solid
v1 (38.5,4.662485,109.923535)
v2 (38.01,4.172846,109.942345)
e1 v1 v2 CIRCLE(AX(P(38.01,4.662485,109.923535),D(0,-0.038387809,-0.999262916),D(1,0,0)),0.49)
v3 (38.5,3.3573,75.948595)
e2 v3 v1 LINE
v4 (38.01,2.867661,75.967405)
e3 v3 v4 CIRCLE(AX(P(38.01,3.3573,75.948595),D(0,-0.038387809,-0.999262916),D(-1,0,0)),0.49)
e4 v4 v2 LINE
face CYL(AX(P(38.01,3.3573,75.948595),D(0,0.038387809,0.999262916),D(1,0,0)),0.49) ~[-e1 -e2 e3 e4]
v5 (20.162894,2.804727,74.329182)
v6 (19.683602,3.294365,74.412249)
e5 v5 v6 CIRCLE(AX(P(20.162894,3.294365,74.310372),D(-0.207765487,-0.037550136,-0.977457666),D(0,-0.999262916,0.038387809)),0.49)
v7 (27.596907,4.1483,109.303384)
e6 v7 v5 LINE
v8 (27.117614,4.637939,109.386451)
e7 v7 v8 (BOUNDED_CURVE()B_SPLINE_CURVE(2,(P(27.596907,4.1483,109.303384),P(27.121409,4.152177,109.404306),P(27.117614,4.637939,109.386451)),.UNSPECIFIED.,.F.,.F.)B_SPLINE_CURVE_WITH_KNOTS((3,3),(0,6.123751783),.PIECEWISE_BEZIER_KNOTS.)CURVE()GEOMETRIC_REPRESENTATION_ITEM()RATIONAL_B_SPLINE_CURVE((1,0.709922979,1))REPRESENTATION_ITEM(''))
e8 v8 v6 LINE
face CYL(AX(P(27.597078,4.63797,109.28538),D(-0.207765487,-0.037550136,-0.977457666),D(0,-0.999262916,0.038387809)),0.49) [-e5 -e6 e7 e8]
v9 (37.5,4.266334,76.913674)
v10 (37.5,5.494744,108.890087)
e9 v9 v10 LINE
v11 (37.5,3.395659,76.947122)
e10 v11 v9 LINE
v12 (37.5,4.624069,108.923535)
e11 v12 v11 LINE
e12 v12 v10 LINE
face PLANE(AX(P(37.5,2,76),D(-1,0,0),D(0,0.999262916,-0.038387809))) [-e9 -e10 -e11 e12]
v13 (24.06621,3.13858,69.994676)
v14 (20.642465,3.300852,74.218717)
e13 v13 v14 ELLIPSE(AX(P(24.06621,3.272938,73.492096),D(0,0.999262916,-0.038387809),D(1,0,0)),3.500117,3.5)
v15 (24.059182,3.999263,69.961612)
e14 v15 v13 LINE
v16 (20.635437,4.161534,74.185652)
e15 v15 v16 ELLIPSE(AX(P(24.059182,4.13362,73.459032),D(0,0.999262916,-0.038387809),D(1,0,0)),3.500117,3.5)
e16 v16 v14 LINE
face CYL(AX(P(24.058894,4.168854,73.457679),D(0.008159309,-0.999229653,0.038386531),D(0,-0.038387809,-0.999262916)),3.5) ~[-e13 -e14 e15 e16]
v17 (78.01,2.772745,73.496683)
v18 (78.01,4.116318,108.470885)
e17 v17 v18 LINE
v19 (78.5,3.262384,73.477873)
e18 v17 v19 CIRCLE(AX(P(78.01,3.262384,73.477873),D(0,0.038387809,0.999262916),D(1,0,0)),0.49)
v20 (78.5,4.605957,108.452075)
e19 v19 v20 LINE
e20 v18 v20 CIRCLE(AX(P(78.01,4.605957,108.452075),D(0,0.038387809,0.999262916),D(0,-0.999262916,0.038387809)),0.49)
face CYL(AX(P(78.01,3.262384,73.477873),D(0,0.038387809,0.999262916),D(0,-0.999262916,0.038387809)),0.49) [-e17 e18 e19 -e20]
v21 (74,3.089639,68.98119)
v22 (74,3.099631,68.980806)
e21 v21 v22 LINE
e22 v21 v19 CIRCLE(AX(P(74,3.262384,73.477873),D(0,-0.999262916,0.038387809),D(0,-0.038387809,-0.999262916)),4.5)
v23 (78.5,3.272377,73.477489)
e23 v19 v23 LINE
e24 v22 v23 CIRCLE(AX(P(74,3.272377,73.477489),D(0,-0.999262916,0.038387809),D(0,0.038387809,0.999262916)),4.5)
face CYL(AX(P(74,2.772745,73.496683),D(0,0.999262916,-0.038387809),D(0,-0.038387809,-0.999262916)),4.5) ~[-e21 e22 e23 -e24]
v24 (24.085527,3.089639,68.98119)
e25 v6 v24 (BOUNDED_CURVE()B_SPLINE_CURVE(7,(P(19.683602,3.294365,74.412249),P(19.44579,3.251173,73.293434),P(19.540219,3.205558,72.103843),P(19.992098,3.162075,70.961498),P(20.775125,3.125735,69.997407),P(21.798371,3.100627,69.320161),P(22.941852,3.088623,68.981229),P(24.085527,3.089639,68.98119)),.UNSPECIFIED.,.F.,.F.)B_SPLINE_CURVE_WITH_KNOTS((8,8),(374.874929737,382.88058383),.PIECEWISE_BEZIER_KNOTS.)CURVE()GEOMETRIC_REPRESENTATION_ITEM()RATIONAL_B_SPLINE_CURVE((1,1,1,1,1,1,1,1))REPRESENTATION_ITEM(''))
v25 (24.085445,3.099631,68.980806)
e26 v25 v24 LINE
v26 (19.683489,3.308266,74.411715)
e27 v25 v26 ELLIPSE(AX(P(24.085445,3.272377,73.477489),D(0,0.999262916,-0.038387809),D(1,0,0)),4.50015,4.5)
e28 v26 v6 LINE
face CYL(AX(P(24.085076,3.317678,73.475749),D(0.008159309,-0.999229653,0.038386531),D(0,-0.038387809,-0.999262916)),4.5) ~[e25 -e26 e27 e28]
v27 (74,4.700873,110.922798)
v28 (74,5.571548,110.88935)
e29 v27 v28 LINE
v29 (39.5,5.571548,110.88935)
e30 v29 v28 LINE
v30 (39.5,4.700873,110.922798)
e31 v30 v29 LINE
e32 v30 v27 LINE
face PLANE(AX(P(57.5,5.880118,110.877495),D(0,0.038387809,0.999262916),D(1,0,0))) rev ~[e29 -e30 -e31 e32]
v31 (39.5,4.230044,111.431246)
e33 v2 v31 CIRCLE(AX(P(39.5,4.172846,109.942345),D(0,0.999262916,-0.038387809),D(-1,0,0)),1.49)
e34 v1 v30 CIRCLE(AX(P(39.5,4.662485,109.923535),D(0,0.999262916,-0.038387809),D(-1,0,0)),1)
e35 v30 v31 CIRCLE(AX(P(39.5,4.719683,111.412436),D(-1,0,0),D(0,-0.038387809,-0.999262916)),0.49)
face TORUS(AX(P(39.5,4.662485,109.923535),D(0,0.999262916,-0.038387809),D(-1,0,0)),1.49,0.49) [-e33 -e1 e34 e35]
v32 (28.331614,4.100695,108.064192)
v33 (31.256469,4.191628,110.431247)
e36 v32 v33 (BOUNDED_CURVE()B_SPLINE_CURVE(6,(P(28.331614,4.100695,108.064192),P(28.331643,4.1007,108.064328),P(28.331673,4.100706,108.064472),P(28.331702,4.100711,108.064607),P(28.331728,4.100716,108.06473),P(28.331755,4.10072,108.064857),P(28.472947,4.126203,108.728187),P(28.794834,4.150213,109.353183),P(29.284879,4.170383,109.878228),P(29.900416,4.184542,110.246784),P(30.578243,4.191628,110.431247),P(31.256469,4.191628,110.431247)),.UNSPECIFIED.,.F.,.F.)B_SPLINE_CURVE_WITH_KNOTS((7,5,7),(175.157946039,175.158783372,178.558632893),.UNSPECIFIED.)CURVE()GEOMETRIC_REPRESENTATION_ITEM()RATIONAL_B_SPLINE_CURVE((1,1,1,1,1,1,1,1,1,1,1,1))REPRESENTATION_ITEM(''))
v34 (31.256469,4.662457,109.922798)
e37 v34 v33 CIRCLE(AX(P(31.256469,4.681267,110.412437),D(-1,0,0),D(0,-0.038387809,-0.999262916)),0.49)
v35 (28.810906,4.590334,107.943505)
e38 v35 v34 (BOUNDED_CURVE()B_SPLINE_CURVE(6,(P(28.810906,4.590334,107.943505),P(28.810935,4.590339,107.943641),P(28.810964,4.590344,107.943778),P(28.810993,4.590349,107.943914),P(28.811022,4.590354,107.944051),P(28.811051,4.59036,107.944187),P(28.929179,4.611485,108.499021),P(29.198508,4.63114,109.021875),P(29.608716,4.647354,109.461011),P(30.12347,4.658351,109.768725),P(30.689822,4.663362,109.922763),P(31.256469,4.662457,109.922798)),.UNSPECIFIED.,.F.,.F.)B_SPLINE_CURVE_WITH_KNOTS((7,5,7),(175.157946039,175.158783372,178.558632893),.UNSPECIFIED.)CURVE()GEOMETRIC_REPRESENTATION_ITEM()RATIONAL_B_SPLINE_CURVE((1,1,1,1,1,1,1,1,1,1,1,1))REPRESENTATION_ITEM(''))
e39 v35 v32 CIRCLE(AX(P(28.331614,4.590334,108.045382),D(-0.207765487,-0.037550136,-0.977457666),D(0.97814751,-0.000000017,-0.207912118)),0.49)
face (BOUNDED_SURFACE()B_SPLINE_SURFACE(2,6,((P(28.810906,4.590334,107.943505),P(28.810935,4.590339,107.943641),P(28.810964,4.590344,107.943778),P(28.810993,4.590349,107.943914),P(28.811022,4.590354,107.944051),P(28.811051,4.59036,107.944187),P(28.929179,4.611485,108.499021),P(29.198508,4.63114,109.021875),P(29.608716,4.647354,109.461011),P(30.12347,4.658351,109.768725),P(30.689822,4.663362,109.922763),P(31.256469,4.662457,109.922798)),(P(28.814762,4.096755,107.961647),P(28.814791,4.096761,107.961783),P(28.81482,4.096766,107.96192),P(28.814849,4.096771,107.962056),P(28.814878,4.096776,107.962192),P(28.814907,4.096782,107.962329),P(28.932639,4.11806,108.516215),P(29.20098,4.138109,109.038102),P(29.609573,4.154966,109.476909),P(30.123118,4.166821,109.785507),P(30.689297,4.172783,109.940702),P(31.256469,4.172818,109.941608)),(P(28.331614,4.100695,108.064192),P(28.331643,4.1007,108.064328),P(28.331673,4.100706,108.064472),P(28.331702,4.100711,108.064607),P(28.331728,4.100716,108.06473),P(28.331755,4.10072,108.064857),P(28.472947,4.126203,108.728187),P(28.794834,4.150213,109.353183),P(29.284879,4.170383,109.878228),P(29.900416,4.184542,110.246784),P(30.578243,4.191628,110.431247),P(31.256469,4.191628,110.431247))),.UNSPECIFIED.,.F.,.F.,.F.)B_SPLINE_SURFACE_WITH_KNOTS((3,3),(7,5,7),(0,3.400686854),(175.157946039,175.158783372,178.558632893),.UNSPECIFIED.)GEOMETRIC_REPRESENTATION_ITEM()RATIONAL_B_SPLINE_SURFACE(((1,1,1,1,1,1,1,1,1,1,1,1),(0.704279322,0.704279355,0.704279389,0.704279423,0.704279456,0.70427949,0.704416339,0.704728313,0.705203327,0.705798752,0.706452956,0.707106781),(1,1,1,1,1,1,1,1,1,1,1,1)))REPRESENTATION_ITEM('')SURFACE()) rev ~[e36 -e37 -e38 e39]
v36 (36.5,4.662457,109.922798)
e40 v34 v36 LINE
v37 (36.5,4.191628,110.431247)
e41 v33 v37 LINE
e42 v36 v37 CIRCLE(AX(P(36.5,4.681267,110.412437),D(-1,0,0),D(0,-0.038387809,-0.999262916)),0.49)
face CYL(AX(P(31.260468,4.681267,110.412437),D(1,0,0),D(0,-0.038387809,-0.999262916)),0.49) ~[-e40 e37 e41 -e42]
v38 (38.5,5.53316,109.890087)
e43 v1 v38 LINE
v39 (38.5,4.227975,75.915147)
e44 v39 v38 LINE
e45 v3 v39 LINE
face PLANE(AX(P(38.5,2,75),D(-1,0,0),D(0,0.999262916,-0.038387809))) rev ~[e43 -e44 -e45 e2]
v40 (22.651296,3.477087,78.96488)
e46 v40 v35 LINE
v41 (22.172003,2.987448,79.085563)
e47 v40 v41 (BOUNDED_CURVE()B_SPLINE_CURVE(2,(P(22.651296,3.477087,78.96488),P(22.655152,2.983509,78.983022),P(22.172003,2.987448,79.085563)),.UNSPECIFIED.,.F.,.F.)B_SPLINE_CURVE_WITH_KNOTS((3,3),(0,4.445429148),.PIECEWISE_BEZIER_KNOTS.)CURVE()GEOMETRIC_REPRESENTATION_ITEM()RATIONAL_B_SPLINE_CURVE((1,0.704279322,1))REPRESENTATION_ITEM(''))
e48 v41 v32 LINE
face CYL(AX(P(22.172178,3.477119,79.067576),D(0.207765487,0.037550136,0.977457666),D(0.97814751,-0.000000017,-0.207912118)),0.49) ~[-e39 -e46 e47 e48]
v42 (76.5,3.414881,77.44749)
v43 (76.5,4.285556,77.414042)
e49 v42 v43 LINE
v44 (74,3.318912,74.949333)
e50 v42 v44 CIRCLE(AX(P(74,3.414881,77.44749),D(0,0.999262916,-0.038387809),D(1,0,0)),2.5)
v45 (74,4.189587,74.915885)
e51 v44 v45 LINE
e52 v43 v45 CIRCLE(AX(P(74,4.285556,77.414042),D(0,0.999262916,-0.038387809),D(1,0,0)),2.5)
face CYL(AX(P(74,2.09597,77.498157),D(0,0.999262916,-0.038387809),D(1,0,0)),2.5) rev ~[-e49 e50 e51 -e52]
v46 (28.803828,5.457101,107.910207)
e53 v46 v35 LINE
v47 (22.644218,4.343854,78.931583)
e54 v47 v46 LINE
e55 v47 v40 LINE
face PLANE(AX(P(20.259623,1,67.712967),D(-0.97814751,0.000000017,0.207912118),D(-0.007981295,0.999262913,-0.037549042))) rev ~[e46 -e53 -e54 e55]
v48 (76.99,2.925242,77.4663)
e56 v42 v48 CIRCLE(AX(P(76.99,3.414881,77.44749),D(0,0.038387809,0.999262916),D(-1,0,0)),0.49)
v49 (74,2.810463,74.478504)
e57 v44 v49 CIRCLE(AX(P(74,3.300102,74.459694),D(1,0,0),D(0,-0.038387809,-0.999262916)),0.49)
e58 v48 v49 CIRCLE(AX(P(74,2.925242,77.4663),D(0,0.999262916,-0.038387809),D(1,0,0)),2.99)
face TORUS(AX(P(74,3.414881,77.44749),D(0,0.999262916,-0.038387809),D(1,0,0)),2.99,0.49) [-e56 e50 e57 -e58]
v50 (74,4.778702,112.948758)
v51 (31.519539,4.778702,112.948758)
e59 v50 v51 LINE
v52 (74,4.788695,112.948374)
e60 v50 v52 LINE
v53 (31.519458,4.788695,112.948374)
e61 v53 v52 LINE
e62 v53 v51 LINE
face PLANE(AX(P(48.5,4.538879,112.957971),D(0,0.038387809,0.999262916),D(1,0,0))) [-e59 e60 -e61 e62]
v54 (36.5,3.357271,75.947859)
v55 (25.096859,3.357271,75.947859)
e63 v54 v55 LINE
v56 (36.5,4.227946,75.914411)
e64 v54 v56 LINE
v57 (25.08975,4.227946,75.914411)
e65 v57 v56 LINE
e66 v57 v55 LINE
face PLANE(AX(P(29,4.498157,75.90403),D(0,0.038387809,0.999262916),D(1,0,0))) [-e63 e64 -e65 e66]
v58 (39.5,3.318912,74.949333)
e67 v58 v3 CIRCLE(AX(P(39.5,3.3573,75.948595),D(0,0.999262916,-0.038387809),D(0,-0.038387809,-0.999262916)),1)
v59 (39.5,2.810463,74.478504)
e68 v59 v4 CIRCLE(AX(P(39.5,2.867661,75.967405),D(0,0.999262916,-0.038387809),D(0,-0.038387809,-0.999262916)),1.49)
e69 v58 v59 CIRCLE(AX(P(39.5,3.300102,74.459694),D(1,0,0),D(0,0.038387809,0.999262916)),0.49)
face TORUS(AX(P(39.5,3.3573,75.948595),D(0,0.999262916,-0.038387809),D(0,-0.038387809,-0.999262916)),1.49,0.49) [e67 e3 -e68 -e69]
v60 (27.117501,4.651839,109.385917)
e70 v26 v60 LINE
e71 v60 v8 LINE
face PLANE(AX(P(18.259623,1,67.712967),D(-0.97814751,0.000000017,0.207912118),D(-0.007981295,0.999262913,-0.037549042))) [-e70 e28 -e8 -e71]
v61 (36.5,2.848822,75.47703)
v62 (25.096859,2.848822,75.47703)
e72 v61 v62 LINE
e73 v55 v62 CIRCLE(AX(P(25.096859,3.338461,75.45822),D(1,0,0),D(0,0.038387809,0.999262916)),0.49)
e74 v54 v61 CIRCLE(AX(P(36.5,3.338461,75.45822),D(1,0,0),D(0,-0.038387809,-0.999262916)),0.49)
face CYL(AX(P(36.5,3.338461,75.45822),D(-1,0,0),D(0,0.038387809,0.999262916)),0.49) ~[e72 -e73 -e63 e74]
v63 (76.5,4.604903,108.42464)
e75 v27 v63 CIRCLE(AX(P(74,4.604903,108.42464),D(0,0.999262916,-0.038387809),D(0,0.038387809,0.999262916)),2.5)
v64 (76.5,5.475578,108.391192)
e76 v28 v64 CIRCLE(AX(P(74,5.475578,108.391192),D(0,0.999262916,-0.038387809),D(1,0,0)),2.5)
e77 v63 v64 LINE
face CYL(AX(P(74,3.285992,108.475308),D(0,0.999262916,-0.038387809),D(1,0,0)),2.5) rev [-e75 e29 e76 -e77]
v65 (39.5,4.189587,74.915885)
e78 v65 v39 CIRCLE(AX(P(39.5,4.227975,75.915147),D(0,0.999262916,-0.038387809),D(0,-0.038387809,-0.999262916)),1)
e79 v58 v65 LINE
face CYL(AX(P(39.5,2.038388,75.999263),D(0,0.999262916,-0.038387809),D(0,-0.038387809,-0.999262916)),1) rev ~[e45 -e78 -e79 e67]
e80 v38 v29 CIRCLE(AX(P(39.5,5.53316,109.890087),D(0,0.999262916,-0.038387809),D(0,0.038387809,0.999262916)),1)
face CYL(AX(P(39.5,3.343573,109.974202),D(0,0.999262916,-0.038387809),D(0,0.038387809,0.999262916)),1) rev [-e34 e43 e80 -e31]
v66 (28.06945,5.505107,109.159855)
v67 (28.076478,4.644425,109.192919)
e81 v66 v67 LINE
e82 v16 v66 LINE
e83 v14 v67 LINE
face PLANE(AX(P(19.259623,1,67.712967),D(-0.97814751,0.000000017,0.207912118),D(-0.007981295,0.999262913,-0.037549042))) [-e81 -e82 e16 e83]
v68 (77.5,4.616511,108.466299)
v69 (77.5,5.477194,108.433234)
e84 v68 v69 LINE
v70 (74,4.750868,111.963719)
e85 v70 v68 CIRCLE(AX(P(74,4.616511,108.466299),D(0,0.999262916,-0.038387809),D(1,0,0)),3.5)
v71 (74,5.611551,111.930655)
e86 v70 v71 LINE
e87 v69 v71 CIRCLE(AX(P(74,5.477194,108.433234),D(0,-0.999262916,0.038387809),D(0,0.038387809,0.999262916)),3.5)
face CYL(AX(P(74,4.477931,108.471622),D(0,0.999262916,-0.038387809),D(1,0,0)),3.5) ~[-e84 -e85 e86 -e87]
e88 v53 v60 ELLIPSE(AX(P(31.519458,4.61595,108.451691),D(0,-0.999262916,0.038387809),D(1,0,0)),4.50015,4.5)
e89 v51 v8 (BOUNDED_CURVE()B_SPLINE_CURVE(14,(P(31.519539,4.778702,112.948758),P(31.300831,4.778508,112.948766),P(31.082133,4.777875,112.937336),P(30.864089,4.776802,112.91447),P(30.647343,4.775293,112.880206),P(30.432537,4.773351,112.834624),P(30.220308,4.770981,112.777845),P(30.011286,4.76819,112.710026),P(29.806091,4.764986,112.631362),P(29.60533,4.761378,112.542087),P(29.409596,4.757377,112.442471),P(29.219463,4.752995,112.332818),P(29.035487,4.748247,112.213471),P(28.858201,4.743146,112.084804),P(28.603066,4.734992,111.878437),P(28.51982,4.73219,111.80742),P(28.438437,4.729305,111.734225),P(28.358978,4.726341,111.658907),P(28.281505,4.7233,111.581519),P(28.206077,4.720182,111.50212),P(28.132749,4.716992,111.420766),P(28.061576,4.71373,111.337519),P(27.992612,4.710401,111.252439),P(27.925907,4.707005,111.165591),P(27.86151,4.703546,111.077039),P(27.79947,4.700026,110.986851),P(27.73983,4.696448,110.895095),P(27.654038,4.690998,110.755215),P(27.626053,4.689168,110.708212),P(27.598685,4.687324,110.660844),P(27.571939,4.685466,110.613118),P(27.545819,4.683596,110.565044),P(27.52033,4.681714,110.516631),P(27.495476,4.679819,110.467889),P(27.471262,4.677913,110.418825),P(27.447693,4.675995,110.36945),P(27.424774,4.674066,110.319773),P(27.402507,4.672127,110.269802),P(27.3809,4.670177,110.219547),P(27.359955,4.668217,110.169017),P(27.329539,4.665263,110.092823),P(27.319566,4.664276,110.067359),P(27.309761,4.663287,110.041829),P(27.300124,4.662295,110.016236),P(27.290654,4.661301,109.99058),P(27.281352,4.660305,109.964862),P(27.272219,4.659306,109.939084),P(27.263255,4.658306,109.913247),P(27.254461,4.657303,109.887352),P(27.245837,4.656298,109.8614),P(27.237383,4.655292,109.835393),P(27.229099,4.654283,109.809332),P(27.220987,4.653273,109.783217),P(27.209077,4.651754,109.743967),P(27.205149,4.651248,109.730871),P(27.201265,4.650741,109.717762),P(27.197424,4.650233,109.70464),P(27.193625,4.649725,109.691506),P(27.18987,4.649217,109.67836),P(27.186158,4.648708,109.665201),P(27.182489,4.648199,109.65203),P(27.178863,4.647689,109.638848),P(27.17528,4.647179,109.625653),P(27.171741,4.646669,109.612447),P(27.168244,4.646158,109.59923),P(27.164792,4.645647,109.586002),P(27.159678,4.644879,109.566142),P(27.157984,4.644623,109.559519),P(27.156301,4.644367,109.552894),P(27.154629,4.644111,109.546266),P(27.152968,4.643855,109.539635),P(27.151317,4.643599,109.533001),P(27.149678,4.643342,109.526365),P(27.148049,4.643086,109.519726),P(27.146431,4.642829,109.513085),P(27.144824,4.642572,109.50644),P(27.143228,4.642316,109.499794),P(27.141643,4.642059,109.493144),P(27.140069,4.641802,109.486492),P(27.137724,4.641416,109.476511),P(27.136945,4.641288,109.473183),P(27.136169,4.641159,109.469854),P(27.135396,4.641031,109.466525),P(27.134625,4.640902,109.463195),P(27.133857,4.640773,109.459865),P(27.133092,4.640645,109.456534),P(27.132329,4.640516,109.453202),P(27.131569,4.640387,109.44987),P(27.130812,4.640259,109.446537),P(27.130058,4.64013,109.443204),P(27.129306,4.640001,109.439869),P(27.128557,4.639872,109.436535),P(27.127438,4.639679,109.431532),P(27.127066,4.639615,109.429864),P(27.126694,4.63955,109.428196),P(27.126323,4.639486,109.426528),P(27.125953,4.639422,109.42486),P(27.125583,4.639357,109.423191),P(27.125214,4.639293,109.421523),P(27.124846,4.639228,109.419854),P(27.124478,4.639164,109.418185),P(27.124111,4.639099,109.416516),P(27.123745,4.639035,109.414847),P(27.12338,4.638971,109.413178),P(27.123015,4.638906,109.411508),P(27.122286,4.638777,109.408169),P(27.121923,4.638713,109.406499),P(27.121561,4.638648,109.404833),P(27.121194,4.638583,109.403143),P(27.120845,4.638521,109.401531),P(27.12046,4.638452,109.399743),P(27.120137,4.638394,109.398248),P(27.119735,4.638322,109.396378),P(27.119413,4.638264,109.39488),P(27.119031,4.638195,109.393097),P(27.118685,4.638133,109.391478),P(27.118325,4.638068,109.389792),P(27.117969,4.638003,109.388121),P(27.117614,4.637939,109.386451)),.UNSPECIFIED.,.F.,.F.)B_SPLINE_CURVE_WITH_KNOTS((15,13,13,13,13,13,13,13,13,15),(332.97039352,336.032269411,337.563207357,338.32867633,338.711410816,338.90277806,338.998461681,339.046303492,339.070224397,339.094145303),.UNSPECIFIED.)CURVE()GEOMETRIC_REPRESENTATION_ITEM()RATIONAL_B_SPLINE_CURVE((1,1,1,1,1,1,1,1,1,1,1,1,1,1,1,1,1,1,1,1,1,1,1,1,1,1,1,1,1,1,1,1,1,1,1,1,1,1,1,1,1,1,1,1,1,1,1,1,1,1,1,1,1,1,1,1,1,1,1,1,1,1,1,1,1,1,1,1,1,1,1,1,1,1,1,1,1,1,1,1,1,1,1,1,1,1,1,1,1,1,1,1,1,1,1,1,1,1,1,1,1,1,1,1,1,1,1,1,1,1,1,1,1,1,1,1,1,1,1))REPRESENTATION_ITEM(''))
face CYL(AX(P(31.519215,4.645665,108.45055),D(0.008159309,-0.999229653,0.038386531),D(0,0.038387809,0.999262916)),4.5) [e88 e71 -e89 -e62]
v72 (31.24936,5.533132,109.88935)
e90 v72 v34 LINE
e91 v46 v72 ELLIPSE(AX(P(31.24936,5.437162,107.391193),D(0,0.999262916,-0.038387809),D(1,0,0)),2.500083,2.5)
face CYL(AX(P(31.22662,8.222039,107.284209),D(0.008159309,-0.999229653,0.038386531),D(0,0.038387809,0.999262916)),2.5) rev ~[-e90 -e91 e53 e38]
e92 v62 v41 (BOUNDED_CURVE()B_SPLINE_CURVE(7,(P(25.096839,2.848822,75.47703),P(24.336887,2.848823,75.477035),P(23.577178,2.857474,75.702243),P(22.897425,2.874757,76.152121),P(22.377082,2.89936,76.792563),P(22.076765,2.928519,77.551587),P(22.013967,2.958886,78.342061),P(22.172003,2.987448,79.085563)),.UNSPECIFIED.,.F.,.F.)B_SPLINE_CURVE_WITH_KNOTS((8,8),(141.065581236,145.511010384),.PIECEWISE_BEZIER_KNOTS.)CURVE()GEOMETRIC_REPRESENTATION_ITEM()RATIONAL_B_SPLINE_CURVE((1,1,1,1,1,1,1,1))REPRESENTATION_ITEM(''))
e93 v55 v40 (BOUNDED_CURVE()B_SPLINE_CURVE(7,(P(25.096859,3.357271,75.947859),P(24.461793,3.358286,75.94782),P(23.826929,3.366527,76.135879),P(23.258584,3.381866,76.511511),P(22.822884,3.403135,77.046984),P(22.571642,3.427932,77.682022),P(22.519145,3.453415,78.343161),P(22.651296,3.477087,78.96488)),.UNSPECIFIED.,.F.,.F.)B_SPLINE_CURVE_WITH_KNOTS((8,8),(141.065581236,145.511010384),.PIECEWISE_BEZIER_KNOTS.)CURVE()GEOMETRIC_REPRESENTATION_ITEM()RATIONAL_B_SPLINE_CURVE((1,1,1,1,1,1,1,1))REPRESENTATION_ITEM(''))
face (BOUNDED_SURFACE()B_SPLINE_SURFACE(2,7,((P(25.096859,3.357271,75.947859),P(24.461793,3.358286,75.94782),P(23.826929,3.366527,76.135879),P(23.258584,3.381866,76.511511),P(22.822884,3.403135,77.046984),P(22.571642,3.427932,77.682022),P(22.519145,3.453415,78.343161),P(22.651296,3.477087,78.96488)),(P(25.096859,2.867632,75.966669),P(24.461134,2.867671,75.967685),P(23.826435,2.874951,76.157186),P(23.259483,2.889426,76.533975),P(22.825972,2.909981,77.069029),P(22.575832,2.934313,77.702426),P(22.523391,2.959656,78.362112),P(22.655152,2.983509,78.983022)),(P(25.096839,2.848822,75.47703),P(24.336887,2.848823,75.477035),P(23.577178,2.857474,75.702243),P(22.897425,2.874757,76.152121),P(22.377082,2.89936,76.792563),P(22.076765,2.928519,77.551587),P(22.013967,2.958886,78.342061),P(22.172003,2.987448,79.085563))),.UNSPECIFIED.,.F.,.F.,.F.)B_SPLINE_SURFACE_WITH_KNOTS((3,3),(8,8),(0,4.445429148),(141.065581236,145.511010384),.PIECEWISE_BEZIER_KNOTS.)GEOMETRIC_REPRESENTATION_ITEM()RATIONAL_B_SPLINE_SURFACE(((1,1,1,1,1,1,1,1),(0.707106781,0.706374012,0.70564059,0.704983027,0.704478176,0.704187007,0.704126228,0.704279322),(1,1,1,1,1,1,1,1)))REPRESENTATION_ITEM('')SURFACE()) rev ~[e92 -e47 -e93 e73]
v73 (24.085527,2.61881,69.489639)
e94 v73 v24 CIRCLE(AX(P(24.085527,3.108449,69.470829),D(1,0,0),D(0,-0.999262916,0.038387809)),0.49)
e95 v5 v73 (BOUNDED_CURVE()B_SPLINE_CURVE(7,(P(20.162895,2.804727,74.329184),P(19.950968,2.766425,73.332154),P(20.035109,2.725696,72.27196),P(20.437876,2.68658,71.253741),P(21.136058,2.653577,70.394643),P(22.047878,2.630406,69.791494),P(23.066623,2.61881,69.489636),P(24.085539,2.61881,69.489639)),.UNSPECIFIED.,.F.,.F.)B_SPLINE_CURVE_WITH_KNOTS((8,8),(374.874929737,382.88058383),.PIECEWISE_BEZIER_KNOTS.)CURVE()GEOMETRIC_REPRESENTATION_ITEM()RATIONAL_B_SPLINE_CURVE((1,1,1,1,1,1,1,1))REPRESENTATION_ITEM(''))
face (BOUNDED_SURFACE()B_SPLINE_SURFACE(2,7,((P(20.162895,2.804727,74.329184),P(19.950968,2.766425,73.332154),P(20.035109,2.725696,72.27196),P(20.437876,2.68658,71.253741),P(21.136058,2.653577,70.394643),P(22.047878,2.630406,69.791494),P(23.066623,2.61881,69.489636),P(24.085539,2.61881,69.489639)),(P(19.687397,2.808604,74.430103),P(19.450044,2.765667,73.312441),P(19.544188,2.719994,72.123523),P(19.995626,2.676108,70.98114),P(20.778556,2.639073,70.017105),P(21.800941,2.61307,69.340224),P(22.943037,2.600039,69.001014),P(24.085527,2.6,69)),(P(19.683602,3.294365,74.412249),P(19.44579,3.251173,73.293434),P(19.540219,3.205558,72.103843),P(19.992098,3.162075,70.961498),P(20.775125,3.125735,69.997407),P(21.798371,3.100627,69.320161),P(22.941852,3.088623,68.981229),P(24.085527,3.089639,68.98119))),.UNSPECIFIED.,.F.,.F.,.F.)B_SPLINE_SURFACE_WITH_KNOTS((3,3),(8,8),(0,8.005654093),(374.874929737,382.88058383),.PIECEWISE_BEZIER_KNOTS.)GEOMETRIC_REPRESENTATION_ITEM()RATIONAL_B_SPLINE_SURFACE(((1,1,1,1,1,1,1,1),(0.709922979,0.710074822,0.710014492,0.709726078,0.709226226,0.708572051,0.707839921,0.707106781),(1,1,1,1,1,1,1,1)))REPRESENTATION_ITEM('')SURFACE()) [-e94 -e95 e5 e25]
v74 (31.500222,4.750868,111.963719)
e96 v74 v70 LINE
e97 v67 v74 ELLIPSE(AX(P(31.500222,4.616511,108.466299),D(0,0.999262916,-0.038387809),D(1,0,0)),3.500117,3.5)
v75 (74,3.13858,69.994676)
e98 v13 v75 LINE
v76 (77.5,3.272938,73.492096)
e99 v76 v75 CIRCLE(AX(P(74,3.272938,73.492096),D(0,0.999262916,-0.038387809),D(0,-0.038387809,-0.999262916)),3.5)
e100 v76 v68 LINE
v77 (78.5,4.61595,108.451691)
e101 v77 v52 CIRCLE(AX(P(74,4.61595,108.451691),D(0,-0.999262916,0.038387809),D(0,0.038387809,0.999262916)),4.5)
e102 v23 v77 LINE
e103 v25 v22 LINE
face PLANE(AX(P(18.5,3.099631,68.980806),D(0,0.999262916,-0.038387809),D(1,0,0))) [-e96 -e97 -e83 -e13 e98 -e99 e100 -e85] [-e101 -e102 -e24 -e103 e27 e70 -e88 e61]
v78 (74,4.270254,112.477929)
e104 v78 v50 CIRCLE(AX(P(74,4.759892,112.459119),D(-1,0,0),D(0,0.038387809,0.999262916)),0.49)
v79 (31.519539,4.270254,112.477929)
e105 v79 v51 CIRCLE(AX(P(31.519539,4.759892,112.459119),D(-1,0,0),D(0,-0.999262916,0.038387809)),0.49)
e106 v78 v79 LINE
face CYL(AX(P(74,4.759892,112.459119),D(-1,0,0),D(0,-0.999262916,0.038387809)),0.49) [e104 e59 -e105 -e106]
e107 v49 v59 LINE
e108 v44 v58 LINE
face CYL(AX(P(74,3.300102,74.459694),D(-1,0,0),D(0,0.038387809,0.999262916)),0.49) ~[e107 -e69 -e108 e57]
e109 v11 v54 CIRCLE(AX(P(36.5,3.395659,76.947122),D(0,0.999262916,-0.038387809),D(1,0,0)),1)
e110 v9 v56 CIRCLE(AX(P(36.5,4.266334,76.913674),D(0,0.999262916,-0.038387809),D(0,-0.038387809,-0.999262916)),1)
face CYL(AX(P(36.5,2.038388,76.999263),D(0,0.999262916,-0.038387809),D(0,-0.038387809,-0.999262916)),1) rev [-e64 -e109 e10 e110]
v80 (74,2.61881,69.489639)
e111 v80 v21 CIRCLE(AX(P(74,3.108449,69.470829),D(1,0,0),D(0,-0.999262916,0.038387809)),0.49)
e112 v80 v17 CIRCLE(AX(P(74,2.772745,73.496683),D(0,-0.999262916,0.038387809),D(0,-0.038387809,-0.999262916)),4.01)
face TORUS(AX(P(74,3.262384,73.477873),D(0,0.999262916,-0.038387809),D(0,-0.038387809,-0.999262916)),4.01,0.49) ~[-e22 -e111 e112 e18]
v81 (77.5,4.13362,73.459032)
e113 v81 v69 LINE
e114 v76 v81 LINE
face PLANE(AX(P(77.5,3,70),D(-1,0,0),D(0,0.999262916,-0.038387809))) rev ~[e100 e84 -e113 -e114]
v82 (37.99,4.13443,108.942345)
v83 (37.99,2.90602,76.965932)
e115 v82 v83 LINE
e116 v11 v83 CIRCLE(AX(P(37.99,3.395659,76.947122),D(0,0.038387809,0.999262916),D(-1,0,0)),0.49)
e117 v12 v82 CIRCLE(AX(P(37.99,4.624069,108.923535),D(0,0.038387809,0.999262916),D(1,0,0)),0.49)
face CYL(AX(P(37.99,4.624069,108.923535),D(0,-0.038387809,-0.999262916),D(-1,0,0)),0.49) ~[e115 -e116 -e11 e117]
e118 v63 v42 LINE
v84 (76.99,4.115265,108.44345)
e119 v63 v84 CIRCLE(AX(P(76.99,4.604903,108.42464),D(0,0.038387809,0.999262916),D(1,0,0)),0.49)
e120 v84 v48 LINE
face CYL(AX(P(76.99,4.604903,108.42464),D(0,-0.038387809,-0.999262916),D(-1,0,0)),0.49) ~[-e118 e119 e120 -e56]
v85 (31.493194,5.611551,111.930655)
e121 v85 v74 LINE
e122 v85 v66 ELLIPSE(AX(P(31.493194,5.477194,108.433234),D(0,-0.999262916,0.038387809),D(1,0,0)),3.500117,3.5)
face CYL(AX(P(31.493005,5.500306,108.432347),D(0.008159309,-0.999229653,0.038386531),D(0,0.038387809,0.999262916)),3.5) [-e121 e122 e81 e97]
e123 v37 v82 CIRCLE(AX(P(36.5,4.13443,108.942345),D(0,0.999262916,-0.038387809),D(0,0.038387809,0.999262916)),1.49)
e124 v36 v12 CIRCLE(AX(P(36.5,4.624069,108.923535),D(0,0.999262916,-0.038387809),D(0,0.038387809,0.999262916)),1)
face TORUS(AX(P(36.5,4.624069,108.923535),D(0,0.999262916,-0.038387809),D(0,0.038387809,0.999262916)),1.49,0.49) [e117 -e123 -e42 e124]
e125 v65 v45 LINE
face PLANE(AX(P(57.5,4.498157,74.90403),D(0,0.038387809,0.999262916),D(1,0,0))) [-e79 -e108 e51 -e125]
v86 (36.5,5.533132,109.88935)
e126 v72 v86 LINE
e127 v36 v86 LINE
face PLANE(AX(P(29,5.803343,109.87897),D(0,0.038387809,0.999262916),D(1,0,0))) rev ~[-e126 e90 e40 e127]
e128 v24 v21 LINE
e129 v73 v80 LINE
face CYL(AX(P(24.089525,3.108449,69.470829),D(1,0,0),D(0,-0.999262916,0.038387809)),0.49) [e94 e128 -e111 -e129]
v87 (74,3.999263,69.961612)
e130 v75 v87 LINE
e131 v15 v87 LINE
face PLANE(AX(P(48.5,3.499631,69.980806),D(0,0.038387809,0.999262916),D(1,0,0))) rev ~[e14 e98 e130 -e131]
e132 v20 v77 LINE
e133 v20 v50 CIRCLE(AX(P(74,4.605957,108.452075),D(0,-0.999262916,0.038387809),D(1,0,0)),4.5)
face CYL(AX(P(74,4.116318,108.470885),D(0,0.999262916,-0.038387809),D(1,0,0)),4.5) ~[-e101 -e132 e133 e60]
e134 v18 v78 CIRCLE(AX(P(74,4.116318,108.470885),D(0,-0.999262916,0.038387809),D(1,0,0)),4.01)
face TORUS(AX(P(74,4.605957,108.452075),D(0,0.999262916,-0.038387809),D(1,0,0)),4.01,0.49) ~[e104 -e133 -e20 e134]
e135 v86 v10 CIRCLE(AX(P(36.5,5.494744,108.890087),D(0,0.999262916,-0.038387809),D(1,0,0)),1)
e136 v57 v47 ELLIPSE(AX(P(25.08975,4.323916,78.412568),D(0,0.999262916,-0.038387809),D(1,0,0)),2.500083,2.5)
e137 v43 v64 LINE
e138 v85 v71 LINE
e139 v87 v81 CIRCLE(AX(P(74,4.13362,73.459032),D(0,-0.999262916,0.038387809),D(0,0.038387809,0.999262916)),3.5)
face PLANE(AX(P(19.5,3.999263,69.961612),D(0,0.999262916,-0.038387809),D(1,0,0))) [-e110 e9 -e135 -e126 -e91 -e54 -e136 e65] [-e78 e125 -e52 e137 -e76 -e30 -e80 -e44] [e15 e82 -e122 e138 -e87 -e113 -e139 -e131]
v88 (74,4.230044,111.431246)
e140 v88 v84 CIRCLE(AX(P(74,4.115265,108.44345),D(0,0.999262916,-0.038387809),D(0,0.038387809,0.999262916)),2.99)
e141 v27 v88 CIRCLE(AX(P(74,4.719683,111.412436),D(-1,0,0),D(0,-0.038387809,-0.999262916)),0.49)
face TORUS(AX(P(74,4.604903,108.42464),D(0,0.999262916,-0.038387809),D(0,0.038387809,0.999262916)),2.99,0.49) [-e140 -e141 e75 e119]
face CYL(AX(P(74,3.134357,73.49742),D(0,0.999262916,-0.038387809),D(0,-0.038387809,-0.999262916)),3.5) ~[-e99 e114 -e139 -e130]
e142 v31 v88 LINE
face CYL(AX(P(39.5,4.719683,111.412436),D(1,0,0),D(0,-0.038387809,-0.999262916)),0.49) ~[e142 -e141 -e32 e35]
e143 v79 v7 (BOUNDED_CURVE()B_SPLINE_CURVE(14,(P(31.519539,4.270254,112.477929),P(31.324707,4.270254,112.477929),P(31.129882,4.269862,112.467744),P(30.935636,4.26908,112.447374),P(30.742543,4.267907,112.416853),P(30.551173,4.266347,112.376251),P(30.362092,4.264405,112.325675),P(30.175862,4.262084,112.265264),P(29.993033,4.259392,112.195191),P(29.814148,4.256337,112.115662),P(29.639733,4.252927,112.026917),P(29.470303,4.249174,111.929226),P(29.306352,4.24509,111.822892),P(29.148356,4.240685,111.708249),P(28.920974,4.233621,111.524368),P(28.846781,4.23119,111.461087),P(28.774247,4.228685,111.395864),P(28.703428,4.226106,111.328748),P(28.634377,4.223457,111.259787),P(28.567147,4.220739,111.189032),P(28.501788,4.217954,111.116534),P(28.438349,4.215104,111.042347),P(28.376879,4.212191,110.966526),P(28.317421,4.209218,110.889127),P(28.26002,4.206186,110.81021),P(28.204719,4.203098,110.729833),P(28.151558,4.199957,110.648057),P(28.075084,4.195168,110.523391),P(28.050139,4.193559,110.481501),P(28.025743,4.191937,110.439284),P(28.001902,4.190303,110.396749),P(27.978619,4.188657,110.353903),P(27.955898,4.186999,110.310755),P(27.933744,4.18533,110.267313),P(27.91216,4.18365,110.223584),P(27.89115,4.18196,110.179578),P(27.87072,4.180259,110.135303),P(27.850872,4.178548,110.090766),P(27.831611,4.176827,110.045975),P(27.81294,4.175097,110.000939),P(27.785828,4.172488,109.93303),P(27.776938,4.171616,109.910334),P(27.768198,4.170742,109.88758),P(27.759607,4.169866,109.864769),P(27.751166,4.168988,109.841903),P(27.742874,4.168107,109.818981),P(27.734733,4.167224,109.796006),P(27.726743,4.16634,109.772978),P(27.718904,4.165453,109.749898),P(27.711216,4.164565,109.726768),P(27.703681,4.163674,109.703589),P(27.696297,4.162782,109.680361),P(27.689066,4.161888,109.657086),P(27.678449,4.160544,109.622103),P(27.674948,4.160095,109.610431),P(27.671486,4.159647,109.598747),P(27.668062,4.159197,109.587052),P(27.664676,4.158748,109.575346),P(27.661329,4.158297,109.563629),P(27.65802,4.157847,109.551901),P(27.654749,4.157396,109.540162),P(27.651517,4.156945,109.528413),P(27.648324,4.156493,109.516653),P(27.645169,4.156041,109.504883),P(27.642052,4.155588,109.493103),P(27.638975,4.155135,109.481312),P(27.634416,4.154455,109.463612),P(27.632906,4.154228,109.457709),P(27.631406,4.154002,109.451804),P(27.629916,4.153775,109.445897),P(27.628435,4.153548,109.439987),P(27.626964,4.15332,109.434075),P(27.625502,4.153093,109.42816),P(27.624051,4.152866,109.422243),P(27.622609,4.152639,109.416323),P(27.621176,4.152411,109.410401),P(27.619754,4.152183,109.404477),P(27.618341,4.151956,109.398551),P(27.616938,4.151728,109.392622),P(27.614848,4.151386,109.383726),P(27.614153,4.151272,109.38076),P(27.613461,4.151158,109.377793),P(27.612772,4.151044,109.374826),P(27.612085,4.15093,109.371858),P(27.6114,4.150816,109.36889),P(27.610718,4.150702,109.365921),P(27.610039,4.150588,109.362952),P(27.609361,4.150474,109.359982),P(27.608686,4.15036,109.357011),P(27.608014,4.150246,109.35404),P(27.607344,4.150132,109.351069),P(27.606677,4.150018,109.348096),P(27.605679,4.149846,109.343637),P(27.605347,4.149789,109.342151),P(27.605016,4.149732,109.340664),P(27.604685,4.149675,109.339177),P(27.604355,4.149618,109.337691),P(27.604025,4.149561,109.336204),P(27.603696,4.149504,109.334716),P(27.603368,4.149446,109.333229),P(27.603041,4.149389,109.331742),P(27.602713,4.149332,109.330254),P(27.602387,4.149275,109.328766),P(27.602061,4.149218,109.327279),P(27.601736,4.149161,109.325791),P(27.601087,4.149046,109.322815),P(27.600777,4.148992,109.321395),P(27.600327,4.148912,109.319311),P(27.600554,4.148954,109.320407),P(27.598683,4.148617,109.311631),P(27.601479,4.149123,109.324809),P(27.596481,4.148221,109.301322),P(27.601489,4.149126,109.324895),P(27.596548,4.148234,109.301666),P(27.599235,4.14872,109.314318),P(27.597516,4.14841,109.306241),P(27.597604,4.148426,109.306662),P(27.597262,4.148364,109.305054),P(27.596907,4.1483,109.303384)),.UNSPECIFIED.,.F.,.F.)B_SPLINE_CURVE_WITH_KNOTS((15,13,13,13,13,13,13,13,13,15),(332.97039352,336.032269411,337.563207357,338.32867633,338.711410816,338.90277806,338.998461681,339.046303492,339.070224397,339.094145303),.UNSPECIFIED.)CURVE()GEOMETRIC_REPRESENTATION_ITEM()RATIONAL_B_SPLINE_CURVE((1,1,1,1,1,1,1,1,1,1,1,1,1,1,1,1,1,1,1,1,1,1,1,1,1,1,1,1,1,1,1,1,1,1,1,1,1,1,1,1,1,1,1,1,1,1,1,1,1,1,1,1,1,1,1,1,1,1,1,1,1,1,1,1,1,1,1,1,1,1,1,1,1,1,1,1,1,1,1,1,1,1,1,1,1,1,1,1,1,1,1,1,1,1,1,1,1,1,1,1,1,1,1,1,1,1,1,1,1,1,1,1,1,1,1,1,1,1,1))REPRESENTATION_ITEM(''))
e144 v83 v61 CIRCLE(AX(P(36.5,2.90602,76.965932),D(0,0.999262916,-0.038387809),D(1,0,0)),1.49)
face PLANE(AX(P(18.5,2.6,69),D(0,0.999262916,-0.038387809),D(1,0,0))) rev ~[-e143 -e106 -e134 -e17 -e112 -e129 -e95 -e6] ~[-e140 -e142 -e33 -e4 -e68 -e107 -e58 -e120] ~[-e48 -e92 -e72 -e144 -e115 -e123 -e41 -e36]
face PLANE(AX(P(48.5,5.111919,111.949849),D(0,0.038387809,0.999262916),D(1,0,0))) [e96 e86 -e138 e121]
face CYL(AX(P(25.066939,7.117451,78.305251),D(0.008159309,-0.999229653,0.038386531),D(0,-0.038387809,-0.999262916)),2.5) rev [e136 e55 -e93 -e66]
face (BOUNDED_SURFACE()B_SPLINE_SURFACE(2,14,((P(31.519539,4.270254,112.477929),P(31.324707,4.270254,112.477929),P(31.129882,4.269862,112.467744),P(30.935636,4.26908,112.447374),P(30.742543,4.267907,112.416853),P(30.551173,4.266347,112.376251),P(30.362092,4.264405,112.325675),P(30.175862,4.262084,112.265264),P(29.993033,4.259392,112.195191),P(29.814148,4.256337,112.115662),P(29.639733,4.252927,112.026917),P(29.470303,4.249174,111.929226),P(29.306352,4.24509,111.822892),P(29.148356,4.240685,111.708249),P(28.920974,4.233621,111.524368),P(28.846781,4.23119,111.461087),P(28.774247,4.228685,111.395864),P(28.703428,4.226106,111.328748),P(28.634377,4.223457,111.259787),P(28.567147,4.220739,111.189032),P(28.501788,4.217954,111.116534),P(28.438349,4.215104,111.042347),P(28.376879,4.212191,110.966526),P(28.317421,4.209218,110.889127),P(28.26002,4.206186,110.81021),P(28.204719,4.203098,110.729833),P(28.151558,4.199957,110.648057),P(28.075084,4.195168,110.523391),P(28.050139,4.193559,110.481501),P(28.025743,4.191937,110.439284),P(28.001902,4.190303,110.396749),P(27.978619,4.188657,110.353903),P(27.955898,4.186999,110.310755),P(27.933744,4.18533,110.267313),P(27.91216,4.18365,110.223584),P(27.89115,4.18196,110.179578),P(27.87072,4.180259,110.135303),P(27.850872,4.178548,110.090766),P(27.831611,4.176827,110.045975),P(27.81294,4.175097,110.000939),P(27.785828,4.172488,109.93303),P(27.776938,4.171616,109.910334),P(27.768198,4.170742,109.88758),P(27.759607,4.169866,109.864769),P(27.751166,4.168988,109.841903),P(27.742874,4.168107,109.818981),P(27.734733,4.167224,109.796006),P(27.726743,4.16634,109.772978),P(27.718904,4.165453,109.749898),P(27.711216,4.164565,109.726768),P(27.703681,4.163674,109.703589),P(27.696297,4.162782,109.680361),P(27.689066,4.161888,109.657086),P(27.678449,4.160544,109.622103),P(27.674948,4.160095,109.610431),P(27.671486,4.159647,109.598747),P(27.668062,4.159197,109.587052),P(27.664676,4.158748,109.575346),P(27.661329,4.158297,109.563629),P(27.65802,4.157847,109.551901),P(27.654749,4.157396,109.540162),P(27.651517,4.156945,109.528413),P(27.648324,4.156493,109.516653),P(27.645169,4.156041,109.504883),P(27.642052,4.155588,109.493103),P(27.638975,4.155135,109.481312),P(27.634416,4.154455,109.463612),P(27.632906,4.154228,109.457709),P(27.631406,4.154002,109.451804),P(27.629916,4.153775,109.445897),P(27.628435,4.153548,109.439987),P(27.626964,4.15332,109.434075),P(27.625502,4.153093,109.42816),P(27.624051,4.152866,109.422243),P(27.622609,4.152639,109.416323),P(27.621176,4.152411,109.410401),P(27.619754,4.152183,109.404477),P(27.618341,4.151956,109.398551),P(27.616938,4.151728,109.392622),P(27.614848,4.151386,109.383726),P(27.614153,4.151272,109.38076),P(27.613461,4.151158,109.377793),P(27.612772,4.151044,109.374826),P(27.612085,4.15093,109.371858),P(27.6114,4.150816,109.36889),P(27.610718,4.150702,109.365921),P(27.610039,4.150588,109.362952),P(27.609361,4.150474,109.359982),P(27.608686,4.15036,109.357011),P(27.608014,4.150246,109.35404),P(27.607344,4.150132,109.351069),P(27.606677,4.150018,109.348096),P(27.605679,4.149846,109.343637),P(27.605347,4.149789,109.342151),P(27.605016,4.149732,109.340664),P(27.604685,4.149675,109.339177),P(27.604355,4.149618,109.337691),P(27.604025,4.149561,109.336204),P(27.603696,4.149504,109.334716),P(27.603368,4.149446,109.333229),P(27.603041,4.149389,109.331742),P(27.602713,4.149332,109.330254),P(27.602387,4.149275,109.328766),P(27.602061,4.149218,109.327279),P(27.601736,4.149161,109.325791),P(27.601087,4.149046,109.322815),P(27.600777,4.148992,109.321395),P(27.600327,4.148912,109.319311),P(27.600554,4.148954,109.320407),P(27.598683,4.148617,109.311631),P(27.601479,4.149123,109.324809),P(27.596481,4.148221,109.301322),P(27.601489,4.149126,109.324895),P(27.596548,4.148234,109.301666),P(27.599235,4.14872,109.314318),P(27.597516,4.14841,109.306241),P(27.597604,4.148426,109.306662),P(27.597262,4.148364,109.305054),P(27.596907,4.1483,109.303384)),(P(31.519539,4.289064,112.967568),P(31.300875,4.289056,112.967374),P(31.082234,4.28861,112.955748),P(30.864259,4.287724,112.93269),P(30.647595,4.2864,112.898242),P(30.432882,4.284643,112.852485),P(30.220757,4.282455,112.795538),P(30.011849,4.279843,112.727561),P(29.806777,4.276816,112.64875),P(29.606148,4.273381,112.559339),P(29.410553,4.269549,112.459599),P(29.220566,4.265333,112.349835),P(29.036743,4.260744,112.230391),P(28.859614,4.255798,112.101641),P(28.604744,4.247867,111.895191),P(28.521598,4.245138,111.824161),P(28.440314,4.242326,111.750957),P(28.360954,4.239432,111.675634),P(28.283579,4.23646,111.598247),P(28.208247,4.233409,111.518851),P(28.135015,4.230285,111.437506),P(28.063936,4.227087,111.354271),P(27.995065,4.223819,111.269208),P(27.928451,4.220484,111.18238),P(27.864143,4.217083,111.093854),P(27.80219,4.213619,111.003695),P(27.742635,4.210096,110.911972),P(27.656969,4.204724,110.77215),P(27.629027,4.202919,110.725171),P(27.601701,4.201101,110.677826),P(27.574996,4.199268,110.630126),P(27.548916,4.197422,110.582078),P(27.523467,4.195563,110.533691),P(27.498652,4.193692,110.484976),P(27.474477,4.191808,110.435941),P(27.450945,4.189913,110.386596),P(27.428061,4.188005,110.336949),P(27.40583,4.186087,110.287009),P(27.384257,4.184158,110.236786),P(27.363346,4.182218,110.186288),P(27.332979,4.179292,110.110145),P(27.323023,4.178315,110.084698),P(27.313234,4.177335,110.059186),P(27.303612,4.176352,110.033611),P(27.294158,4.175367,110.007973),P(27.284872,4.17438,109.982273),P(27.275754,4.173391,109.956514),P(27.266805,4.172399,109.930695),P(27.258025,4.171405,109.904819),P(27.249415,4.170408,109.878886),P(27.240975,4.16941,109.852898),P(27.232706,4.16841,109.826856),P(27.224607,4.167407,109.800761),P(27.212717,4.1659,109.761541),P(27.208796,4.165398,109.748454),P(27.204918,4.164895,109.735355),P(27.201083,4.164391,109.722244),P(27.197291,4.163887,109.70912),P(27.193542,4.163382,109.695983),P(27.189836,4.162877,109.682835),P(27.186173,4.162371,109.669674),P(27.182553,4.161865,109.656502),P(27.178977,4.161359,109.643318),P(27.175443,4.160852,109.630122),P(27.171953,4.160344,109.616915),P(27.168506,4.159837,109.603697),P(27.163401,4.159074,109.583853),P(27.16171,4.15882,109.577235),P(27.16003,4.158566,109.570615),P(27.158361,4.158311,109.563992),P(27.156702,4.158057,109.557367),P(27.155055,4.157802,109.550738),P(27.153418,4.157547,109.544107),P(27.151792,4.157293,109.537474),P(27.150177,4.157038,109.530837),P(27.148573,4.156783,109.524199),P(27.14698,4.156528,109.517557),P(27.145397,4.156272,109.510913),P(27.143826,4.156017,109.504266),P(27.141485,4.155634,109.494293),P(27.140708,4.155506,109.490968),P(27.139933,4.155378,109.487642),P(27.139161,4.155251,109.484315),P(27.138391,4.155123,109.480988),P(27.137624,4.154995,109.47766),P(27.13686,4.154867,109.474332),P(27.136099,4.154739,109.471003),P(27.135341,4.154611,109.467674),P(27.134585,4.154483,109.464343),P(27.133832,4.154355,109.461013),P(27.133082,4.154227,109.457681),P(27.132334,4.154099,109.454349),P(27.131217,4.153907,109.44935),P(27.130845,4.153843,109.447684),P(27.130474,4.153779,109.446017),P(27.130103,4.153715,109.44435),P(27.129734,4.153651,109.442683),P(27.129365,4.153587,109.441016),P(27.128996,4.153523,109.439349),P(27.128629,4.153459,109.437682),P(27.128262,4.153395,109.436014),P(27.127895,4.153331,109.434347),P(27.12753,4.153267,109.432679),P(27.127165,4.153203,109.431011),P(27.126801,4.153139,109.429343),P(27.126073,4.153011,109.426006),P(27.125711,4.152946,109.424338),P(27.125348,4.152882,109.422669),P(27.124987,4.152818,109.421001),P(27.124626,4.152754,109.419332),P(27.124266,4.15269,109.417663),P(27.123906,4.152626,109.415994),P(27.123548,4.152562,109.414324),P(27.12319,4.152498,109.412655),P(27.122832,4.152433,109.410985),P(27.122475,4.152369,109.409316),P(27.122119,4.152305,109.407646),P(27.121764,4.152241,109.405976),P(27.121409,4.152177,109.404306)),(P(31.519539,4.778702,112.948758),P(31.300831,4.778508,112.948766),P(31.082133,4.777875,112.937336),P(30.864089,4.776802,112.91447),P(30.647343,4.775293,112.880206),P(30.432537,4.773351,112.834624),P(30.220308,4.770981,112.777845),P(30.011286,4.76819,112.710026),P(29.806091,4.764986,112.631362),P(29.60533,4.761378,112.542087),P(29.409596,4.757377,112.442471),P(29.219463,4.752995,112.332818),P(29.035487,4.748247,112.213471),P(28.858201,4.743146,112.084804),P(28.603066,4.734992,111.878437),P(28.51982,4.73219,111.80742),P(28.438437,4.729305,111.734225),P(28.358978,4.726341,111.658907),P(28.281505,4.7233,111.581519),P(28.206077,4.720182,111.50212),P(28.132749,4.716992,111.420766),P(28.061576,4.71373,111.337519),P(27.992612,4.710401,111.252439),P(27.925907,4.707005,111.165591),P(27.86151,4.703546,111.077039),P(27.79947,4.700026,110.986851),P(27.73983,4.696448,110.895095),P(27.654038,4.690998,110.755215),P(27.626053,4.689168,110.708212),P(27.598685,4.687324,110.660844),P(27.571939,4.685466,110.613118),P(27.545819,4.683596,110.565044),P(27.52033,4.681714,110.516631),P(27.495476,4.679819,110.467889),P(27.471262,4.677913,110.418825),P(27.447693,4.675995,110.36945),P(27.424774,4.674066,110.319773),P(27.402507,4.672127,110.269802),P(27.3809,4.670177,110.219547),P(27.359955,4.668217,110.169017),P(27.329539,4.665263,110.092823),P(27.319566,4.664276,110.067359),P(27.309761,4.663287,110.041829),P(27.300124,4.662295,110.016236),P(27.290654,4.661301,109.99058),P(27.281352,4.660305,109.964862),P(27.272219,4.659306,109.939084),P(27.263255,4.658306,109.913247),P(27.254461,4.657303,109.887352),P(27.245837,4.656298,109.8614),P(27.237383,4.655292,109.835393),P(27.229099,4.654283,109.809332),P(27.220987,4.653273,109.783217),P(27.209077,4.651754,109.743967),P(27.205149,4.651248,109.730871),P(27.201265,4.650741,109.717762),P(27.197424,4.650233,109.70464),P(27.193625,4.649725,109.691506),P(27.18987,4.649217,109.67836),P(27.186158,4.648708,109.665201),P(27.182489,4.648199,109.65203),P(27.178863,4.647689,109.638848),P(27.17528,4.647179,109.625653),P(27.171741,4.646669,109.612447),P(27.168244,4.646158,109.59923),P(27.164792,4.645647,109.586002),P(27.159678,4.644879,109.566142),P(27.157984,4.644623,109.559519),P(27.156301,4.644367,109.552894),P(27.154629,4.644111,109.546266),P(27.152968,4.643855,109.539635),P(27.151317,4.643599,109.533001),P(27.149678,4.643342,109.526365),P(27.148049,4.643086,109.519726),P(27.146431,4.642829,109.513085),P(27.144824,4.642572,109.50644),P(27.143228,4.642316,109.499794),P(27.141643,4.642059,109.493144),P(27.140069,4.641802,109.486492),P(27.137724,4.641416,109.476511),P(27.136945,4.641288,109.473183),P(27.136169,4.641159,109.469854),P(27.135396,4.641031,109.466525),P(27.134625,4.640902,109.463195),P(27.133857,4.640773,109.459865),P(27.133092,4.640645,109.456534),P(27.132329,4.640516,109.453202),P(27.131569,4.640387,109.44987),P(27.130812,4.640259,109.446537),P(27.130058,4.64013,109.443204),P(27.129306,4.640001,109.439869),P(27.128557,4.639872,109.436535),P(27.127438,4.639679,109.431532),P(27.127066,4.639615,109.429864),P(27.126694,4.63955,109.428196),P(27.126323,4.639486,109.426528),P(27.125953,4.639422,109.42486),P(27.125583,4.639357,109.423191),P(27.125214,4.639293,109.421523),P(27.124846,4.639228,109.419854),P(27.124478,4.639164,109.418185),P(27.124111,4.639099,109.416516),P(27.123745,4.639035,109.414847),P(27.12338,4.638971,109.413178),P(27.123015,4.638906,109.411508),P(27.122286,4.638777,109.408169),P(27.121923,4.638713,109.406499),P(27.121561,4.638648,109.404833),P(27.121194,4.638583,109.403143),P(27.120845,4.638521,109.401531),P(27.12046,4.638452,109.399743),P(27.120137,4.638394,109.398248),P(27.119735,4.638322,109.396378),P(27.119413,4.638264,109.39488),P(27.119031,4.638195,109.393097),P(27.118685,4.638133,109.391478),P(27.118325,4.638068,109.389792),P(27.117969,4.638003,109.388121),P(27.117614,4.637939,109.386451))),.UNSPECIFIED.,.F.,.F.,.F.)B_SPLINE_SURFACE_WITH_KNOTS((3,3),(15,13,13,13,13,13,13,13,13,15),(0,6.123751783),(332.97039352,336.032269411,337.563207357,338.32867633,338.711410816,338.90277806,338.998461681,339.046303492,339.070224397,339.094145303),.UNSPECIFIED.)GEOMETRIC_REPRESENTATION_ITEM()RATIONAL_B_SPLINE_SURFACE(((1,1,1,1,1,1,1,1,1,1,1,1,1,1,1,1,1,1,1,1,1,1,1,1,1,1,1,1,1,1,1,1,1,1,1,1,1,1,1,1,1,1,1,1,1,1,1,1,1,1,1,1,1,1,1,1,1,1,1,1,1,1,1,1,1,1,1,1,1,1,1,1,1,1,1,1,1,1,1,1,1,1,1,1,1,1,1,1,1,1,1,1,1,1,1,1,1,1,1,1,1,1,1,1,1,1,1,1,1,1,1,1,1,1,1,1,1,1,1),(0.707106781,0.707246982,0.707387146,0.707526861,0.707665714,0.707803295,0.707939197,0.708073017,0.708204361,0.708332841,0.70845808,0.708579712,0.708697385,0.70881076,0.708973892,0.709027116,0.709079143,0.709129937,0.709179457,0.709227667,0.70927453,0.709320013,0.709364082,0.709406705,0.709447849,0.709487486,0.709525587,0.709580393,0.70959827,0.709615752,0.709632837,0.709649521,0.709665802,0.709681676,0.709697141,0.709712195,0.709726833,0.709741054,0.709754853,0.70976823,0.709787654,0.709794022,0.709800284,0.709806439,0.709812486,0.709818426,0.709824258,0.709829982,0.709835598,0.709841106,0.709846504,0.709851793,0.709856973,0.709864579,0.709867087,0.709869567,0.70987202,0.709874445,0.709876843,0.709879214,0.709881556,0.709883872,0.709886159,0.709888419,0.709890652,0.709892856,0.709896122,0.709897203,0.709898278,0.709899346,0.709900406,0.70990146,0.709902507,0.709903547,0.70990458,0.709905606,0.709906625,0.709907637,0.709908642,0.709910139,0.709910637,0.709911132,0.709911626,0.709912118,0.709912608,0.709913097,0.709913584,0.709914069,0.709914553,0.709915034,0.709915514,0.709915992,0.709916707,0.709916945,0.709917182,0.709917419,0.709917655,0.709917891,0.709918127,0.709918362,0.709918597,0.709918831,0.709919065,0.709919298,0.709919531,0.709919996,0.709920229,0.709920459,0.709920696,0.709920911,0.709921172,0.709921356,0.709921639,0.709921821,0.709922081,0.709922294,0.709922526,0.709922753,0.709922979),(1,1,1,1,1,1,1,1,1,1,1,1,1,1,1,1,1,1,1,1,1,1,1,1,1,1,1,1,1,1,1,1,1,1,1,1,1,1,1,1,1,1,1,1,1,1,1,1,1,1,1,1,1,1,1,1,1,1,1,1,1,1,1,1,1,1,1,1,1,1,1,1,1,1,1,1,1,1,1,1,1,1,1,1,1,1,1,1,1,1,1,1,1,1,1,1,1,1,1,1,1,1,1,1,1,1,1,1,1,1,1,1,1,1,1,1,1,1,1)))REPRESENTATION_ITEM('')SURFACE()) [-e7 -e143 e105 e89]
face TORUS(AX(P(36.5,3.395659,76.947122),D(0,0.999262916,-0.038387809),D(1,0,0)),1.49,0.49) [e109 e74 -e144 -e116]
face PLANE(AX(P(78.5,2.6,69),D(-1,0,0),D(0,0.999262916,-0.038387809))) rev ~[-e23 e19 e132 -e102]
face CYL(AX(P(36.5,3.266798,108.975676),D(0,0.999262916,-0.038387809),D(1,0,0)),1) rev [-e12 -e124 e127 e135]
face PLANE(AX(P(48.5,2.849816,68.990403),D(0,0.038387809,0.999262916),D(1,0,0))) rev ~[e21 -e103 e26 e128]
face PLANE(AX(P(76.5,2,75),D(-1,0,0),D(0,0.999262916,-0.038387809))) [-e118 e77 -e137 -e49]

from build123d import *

# Parameters (mm, degrees)
BOX024_W               = 11
BOX024_H               = 7
BOX024_DEPTH           = 48
BOX024_ROLL_ANGLE      = -2.200006
BOX024_PITCH_ANGLE     = 12.000025
BOX024_PLACEMENT_ANGLE = -1e-06
BOX023_W               = 17
BOX023_H               = 5
BOX023_DEPTH           = 34
BOX023_ROLL_ANGLE      = -2.2
FILLET024_R            = 2.5
FILLET025_R            = 1
BOX025_W               = 38
BOX025_H               = 5
BOX025_DEPTH           = 36
BOX025_ROLL_ANGLE      = -2.2
FILLET022_R            = 2.5
FILLET023_R            = 1
BOX003_W               = 11
BOX003_H               = 7
BOX003_DEPTH           = 48
BOX003_ROLL_ANGLE      = -2.200006
BOX003_PITCH_ANGLE     = 12.000025
BOX003_PLACEMENT_ANGLE = -1e-06
BOX002_W               = 58
BOX002_H               = 1
BOX002_DEPTH           = 42
BOX002_ROLL_ANGLE      = -2.2
FILLET021_R            = 3.5
BOX022_W               = 11
BOX022_H               = 7
BOX022_DEPTH           = 48
BOX022_ROLL_ANGLE      = -2.200006
BOX022_PITCH_ANGLE     = 12.000025
BOX022_PLACEMENT_ANGLE = -1e-06
BOX021_W               = 60
BOX021_H               = 0.5
BOX021_DEPTH           = 44
BOX021_ROLL_ANGLE      = -2.2
FILLET020_R            = 4.5
FILLET026_R            = 0.49
FILLET027_R            = 0.49


with BuildPart() as cube450:
    # Box024 → Box024 (new body)
    with BuildSketch(Plane.XY):
        with Locations((5.5, 3.5)):
            Rectangle(BOX024_W, BOX024_H)
    extrude(amount=BOX024_DEPTH)


with BuildPart() as cube450_1:
    # Box024 roll: moved
    add(cube450.part.rotate(Axis((0, 0, 0), (1, 0, 0)), BOX024_ROLL_ANGLE))


with BuildPart() as cube450_2:
    # Box024 pitch: moved
    add(cube450_1.part.rotate(Axis((0, 0, 0), (0, 1, 0)), BOX024_PITCH_ANGLE))


with BuildPart() as cube450_3:
    # Box024 placement: moved
    add(cube450_2.part.moved(Location((9.5, 1, 70))).rotate(Axis((9.5, 1, 70), (0, 0, 1)), BOX024_PLACEMENT_ANGLE))


with BuildPart() as fillet025:
    # Box023 → Box023 (new body)
    with BuildSketch(Plane.XY):
        with Locations((8.5, 2.5)):
            Rectangle(BOX023_W, BOX023_H)
    extrude(amount=BOX023_DEPTH)


with BuildPart() as fillet025_1:
    # Box023 roll: moved
    add(fillet025.part.rotate(Axis((0, 0, 0), (1, 0, 0)), BOX023_ROLL_ANGLE))


with BuildPart() as fillet025_2:
    # Box023 placement: moved
    add(fillet025_1.part.moved(Location((20.5, 2, 76))))

    # Cut016: cut Cube450
    add(cube450_3.part, mode=Mode.SUBTRACT)

    # Fillet024
    fillet024_edges = [fillet025_2.edges().sort_by_distance(p)[0] for p in [
        (22.000691, 4.498157, 75.90403),
        (29.222302, 5.803343, 109.87897),
    ]]
    fillet(fillet024_edges, radius=FILLET024_R)

    # Fillet025
    fillet025_edges = [fillet025_2.edges().sort_by_distance(p)[0] for p in [
        (37.5, 4.498157, 75.90403),
        (37.5, 5.803343, 109.87897),
    ]]
    fillet(fillet025_edges, radius=FILLET025_R)


with BuildPart() as fusion002:
    # Box025 → Box025 (new body)
    with BuildSketch(Plane.XY):
        with Locations((19, 2.5)):
            Rectangle(BOX025_W, BOX025_H)
    extrude(amount=BOX025_DEPTH)


with BuildPart() as fusion002_1:
    # Box025 roll: moved
    add(fusion002.part.rotate(Axis((0, 0, 0), (1, 0, 0)), BOX025_ROLL_ANGLE))


with BuildPart() as fusion002_2:
    # Box025 placement: moved
    add(fusion002_1.part.moved(Location((38.5, 2, 75))))

    # Fillet022
    fillet022_edges = [fusion002_2.edges().sort_by_distance(p)[0] for p in [
        (76.5, 5.880118, 110.877495),
        (76.5, 4.498157, 74.90403),
    ]]
    fillet(fillet022_edges, radius=FILLET022_R)

    # Fillet023
    fillet023_edges = [fusion002_2.edges().sort_by_distance(p)[0] for p in [
        (38.5, 4.498157, 74.90403),
        (38.5, 5.880118, 110.877495),
    ]]
    fillet(fillet023_edges, radius=FILLET023_R)

    # Fusion002: union Fillet025
    add(fillet025_2.part)


with BuildPart() as cube049:
    # Box003 → Box003 (new body)
    with BuildSketch(Plane.XY):
        with Locations((5.5, 3.5)):
            Rectangle(BOX003_W, BOX003_H)
    extrude(amount=BOX003_DEPTH)


with BuildPart() as cube049_1:
    # Box003 roll: moved
    add(cube049.part.rotate(Axis((0, 0, 0), (1, 0, 0)), BOX003_ROLL_ANGLE))


with BuildPart() as cube049_2:
    # Box003 pitch: moved
    add(cube049_1.part.rotate(Axis((0, 0, 0), (0, 1, 0)), BOX003_PITCH_ANGLE))


with BuildPart() as cube049_3:
    # Box003 placement: moved
    add(cube049_2.part.moved(Location((8.5, 1, 70))).rotate(Axis((8.5, 1, 70), (0, 0, 1)), BOX003_PLACEMENT_ANGLE))


with BuildPart() as fillet021:
    # Box002 → Box002 (new body)
    with BuildSketch(Plane.XY):
        with Locations((29, 0.5)):
            Rectangle(BOX002_W, BOX002_H)
    extrude(amount=BOX002_DEPTH)


with BuildPart() as fillet021_1:
    # Box002 roll: moved
    add(fillet021.part.rotate(Axis((0, 0, 0), (1, 0, 0)), BOX002_ROLL_ANGLE))


with BuildPart() as fillet021_2:
    # Box002 placement: moved
    add(fillet021_1.part.moved(Location((19.5, 3, 70))))

    # Cut001: cut Cube049
    add(cube049_3.part, mode=Mode.SUBTRACT)

    # Fillet021
    fillet021_edges = [fillet021_2.edges().sort_by_distance(p)[0] for p in [
        (77.5, 3.499631, 69.980806),
        (19.741668, 3.499631, 69.980806),
        (77.5, 5.111919, 111.949849),
        (28.662482, 5.111919, 111.949849),
    ]]
    fillet(fillet021_edges, radius=FILLET021_R)


with BuildPart() as cube448:
    # Box022 → Box022 (new body)
    with BuildSketch(Plane.XY):
        with Locations((5.5, 3.5)):
            Rectangle(BOX022_W, BOX022_H)
    extrude(amount=BOX022_DEPTH)


with BuildPart() as cube448_1:
    # Box022 roll: moved
    add(cube448.part.rotate(Axis((0, 0, 0), (1, 0, 0)), BOX022_ROLL_ANGLE))


with BuildPart() as cube448_2:
    # Box022 pitch: moved
    add(cube448_1.part.rotate(Axis((0, 0, 0), (0, 1, 0)), BOX022_PITCH_ANGLE))


with BuildPart() as cube448_3:
    # Box022 placement: moved
    add(cube448_2.part.moved(Location((7.5, 1, 70))).rotate(Axis((7.5, 1, 70), (0, 0, 1)), BOX022_PLACEMENT_ANGLE))


with BuildPart() as left_front_window_border:
    # Box021 → Box021 (new body)
    with BuildSketch(Plane.XY):
        with Locations((30, 0.25)):
            Rectangle(BOX021_W, BOX021_H)
    extrude(amount=BOX021_DEPTH)


with BuildPart() as left_front_window_border_1:
    # Box021 roll: moved
    add(left_front_window_border.part.rotate(Axis((0, 0, 0), (1, 0, 0)), BOX021_ROLL_ANGLE))


with BuildPart() as left_front_window_border_2:
    # Box021 placement: moved
    add(left_front_window_border_1.part.moved(Location((18.5, 2.6, 69))))

    # Cut015: cut Cube448
    add(cube448_3.part, mode=Mode.SUBTRACT)

    # Fillet020
    fillet020_edges = [left_front_window_border_2.edges().sort_by_distance(p)[0] for p in [
        (78.5, 2.849816, 68.990403),
        (18.531151, 2.849816, 68.990403),
        (78.5, 4.538879, 112.957971),
        (27.876766, 4.538879, 112.957971),
    ]]
    fillet(fillet020_edges, radius=FILLET020_R)

    # Fusion: union Fillet021
    add(fillet021_2.part)

    # Cut017: cut Fusion002
    add(fusion002_2.part, mode=Mode.SUBTRACT)

    # Fillet026
    fillet026_edges = [left_front_window_border_2.edges().sort_by_distance(p)[0] for p in [
        (33.880234, 4.172818, 109.941608),
        (56.75, 4.211234, 110.941608),
    ]]
    fillet(fillet026_edges, radius=FILLET026_R)

    # Fillet027
    fillet027_edges = [left_front_window_border_2.edges().sort_by_distance(p)[0] for p in [
        (49.044763, 2.6, 69),
    ]]
    fillet(fillet027_edges, radius=FILLET027_R)


solid = left_front_window_border_2.part
